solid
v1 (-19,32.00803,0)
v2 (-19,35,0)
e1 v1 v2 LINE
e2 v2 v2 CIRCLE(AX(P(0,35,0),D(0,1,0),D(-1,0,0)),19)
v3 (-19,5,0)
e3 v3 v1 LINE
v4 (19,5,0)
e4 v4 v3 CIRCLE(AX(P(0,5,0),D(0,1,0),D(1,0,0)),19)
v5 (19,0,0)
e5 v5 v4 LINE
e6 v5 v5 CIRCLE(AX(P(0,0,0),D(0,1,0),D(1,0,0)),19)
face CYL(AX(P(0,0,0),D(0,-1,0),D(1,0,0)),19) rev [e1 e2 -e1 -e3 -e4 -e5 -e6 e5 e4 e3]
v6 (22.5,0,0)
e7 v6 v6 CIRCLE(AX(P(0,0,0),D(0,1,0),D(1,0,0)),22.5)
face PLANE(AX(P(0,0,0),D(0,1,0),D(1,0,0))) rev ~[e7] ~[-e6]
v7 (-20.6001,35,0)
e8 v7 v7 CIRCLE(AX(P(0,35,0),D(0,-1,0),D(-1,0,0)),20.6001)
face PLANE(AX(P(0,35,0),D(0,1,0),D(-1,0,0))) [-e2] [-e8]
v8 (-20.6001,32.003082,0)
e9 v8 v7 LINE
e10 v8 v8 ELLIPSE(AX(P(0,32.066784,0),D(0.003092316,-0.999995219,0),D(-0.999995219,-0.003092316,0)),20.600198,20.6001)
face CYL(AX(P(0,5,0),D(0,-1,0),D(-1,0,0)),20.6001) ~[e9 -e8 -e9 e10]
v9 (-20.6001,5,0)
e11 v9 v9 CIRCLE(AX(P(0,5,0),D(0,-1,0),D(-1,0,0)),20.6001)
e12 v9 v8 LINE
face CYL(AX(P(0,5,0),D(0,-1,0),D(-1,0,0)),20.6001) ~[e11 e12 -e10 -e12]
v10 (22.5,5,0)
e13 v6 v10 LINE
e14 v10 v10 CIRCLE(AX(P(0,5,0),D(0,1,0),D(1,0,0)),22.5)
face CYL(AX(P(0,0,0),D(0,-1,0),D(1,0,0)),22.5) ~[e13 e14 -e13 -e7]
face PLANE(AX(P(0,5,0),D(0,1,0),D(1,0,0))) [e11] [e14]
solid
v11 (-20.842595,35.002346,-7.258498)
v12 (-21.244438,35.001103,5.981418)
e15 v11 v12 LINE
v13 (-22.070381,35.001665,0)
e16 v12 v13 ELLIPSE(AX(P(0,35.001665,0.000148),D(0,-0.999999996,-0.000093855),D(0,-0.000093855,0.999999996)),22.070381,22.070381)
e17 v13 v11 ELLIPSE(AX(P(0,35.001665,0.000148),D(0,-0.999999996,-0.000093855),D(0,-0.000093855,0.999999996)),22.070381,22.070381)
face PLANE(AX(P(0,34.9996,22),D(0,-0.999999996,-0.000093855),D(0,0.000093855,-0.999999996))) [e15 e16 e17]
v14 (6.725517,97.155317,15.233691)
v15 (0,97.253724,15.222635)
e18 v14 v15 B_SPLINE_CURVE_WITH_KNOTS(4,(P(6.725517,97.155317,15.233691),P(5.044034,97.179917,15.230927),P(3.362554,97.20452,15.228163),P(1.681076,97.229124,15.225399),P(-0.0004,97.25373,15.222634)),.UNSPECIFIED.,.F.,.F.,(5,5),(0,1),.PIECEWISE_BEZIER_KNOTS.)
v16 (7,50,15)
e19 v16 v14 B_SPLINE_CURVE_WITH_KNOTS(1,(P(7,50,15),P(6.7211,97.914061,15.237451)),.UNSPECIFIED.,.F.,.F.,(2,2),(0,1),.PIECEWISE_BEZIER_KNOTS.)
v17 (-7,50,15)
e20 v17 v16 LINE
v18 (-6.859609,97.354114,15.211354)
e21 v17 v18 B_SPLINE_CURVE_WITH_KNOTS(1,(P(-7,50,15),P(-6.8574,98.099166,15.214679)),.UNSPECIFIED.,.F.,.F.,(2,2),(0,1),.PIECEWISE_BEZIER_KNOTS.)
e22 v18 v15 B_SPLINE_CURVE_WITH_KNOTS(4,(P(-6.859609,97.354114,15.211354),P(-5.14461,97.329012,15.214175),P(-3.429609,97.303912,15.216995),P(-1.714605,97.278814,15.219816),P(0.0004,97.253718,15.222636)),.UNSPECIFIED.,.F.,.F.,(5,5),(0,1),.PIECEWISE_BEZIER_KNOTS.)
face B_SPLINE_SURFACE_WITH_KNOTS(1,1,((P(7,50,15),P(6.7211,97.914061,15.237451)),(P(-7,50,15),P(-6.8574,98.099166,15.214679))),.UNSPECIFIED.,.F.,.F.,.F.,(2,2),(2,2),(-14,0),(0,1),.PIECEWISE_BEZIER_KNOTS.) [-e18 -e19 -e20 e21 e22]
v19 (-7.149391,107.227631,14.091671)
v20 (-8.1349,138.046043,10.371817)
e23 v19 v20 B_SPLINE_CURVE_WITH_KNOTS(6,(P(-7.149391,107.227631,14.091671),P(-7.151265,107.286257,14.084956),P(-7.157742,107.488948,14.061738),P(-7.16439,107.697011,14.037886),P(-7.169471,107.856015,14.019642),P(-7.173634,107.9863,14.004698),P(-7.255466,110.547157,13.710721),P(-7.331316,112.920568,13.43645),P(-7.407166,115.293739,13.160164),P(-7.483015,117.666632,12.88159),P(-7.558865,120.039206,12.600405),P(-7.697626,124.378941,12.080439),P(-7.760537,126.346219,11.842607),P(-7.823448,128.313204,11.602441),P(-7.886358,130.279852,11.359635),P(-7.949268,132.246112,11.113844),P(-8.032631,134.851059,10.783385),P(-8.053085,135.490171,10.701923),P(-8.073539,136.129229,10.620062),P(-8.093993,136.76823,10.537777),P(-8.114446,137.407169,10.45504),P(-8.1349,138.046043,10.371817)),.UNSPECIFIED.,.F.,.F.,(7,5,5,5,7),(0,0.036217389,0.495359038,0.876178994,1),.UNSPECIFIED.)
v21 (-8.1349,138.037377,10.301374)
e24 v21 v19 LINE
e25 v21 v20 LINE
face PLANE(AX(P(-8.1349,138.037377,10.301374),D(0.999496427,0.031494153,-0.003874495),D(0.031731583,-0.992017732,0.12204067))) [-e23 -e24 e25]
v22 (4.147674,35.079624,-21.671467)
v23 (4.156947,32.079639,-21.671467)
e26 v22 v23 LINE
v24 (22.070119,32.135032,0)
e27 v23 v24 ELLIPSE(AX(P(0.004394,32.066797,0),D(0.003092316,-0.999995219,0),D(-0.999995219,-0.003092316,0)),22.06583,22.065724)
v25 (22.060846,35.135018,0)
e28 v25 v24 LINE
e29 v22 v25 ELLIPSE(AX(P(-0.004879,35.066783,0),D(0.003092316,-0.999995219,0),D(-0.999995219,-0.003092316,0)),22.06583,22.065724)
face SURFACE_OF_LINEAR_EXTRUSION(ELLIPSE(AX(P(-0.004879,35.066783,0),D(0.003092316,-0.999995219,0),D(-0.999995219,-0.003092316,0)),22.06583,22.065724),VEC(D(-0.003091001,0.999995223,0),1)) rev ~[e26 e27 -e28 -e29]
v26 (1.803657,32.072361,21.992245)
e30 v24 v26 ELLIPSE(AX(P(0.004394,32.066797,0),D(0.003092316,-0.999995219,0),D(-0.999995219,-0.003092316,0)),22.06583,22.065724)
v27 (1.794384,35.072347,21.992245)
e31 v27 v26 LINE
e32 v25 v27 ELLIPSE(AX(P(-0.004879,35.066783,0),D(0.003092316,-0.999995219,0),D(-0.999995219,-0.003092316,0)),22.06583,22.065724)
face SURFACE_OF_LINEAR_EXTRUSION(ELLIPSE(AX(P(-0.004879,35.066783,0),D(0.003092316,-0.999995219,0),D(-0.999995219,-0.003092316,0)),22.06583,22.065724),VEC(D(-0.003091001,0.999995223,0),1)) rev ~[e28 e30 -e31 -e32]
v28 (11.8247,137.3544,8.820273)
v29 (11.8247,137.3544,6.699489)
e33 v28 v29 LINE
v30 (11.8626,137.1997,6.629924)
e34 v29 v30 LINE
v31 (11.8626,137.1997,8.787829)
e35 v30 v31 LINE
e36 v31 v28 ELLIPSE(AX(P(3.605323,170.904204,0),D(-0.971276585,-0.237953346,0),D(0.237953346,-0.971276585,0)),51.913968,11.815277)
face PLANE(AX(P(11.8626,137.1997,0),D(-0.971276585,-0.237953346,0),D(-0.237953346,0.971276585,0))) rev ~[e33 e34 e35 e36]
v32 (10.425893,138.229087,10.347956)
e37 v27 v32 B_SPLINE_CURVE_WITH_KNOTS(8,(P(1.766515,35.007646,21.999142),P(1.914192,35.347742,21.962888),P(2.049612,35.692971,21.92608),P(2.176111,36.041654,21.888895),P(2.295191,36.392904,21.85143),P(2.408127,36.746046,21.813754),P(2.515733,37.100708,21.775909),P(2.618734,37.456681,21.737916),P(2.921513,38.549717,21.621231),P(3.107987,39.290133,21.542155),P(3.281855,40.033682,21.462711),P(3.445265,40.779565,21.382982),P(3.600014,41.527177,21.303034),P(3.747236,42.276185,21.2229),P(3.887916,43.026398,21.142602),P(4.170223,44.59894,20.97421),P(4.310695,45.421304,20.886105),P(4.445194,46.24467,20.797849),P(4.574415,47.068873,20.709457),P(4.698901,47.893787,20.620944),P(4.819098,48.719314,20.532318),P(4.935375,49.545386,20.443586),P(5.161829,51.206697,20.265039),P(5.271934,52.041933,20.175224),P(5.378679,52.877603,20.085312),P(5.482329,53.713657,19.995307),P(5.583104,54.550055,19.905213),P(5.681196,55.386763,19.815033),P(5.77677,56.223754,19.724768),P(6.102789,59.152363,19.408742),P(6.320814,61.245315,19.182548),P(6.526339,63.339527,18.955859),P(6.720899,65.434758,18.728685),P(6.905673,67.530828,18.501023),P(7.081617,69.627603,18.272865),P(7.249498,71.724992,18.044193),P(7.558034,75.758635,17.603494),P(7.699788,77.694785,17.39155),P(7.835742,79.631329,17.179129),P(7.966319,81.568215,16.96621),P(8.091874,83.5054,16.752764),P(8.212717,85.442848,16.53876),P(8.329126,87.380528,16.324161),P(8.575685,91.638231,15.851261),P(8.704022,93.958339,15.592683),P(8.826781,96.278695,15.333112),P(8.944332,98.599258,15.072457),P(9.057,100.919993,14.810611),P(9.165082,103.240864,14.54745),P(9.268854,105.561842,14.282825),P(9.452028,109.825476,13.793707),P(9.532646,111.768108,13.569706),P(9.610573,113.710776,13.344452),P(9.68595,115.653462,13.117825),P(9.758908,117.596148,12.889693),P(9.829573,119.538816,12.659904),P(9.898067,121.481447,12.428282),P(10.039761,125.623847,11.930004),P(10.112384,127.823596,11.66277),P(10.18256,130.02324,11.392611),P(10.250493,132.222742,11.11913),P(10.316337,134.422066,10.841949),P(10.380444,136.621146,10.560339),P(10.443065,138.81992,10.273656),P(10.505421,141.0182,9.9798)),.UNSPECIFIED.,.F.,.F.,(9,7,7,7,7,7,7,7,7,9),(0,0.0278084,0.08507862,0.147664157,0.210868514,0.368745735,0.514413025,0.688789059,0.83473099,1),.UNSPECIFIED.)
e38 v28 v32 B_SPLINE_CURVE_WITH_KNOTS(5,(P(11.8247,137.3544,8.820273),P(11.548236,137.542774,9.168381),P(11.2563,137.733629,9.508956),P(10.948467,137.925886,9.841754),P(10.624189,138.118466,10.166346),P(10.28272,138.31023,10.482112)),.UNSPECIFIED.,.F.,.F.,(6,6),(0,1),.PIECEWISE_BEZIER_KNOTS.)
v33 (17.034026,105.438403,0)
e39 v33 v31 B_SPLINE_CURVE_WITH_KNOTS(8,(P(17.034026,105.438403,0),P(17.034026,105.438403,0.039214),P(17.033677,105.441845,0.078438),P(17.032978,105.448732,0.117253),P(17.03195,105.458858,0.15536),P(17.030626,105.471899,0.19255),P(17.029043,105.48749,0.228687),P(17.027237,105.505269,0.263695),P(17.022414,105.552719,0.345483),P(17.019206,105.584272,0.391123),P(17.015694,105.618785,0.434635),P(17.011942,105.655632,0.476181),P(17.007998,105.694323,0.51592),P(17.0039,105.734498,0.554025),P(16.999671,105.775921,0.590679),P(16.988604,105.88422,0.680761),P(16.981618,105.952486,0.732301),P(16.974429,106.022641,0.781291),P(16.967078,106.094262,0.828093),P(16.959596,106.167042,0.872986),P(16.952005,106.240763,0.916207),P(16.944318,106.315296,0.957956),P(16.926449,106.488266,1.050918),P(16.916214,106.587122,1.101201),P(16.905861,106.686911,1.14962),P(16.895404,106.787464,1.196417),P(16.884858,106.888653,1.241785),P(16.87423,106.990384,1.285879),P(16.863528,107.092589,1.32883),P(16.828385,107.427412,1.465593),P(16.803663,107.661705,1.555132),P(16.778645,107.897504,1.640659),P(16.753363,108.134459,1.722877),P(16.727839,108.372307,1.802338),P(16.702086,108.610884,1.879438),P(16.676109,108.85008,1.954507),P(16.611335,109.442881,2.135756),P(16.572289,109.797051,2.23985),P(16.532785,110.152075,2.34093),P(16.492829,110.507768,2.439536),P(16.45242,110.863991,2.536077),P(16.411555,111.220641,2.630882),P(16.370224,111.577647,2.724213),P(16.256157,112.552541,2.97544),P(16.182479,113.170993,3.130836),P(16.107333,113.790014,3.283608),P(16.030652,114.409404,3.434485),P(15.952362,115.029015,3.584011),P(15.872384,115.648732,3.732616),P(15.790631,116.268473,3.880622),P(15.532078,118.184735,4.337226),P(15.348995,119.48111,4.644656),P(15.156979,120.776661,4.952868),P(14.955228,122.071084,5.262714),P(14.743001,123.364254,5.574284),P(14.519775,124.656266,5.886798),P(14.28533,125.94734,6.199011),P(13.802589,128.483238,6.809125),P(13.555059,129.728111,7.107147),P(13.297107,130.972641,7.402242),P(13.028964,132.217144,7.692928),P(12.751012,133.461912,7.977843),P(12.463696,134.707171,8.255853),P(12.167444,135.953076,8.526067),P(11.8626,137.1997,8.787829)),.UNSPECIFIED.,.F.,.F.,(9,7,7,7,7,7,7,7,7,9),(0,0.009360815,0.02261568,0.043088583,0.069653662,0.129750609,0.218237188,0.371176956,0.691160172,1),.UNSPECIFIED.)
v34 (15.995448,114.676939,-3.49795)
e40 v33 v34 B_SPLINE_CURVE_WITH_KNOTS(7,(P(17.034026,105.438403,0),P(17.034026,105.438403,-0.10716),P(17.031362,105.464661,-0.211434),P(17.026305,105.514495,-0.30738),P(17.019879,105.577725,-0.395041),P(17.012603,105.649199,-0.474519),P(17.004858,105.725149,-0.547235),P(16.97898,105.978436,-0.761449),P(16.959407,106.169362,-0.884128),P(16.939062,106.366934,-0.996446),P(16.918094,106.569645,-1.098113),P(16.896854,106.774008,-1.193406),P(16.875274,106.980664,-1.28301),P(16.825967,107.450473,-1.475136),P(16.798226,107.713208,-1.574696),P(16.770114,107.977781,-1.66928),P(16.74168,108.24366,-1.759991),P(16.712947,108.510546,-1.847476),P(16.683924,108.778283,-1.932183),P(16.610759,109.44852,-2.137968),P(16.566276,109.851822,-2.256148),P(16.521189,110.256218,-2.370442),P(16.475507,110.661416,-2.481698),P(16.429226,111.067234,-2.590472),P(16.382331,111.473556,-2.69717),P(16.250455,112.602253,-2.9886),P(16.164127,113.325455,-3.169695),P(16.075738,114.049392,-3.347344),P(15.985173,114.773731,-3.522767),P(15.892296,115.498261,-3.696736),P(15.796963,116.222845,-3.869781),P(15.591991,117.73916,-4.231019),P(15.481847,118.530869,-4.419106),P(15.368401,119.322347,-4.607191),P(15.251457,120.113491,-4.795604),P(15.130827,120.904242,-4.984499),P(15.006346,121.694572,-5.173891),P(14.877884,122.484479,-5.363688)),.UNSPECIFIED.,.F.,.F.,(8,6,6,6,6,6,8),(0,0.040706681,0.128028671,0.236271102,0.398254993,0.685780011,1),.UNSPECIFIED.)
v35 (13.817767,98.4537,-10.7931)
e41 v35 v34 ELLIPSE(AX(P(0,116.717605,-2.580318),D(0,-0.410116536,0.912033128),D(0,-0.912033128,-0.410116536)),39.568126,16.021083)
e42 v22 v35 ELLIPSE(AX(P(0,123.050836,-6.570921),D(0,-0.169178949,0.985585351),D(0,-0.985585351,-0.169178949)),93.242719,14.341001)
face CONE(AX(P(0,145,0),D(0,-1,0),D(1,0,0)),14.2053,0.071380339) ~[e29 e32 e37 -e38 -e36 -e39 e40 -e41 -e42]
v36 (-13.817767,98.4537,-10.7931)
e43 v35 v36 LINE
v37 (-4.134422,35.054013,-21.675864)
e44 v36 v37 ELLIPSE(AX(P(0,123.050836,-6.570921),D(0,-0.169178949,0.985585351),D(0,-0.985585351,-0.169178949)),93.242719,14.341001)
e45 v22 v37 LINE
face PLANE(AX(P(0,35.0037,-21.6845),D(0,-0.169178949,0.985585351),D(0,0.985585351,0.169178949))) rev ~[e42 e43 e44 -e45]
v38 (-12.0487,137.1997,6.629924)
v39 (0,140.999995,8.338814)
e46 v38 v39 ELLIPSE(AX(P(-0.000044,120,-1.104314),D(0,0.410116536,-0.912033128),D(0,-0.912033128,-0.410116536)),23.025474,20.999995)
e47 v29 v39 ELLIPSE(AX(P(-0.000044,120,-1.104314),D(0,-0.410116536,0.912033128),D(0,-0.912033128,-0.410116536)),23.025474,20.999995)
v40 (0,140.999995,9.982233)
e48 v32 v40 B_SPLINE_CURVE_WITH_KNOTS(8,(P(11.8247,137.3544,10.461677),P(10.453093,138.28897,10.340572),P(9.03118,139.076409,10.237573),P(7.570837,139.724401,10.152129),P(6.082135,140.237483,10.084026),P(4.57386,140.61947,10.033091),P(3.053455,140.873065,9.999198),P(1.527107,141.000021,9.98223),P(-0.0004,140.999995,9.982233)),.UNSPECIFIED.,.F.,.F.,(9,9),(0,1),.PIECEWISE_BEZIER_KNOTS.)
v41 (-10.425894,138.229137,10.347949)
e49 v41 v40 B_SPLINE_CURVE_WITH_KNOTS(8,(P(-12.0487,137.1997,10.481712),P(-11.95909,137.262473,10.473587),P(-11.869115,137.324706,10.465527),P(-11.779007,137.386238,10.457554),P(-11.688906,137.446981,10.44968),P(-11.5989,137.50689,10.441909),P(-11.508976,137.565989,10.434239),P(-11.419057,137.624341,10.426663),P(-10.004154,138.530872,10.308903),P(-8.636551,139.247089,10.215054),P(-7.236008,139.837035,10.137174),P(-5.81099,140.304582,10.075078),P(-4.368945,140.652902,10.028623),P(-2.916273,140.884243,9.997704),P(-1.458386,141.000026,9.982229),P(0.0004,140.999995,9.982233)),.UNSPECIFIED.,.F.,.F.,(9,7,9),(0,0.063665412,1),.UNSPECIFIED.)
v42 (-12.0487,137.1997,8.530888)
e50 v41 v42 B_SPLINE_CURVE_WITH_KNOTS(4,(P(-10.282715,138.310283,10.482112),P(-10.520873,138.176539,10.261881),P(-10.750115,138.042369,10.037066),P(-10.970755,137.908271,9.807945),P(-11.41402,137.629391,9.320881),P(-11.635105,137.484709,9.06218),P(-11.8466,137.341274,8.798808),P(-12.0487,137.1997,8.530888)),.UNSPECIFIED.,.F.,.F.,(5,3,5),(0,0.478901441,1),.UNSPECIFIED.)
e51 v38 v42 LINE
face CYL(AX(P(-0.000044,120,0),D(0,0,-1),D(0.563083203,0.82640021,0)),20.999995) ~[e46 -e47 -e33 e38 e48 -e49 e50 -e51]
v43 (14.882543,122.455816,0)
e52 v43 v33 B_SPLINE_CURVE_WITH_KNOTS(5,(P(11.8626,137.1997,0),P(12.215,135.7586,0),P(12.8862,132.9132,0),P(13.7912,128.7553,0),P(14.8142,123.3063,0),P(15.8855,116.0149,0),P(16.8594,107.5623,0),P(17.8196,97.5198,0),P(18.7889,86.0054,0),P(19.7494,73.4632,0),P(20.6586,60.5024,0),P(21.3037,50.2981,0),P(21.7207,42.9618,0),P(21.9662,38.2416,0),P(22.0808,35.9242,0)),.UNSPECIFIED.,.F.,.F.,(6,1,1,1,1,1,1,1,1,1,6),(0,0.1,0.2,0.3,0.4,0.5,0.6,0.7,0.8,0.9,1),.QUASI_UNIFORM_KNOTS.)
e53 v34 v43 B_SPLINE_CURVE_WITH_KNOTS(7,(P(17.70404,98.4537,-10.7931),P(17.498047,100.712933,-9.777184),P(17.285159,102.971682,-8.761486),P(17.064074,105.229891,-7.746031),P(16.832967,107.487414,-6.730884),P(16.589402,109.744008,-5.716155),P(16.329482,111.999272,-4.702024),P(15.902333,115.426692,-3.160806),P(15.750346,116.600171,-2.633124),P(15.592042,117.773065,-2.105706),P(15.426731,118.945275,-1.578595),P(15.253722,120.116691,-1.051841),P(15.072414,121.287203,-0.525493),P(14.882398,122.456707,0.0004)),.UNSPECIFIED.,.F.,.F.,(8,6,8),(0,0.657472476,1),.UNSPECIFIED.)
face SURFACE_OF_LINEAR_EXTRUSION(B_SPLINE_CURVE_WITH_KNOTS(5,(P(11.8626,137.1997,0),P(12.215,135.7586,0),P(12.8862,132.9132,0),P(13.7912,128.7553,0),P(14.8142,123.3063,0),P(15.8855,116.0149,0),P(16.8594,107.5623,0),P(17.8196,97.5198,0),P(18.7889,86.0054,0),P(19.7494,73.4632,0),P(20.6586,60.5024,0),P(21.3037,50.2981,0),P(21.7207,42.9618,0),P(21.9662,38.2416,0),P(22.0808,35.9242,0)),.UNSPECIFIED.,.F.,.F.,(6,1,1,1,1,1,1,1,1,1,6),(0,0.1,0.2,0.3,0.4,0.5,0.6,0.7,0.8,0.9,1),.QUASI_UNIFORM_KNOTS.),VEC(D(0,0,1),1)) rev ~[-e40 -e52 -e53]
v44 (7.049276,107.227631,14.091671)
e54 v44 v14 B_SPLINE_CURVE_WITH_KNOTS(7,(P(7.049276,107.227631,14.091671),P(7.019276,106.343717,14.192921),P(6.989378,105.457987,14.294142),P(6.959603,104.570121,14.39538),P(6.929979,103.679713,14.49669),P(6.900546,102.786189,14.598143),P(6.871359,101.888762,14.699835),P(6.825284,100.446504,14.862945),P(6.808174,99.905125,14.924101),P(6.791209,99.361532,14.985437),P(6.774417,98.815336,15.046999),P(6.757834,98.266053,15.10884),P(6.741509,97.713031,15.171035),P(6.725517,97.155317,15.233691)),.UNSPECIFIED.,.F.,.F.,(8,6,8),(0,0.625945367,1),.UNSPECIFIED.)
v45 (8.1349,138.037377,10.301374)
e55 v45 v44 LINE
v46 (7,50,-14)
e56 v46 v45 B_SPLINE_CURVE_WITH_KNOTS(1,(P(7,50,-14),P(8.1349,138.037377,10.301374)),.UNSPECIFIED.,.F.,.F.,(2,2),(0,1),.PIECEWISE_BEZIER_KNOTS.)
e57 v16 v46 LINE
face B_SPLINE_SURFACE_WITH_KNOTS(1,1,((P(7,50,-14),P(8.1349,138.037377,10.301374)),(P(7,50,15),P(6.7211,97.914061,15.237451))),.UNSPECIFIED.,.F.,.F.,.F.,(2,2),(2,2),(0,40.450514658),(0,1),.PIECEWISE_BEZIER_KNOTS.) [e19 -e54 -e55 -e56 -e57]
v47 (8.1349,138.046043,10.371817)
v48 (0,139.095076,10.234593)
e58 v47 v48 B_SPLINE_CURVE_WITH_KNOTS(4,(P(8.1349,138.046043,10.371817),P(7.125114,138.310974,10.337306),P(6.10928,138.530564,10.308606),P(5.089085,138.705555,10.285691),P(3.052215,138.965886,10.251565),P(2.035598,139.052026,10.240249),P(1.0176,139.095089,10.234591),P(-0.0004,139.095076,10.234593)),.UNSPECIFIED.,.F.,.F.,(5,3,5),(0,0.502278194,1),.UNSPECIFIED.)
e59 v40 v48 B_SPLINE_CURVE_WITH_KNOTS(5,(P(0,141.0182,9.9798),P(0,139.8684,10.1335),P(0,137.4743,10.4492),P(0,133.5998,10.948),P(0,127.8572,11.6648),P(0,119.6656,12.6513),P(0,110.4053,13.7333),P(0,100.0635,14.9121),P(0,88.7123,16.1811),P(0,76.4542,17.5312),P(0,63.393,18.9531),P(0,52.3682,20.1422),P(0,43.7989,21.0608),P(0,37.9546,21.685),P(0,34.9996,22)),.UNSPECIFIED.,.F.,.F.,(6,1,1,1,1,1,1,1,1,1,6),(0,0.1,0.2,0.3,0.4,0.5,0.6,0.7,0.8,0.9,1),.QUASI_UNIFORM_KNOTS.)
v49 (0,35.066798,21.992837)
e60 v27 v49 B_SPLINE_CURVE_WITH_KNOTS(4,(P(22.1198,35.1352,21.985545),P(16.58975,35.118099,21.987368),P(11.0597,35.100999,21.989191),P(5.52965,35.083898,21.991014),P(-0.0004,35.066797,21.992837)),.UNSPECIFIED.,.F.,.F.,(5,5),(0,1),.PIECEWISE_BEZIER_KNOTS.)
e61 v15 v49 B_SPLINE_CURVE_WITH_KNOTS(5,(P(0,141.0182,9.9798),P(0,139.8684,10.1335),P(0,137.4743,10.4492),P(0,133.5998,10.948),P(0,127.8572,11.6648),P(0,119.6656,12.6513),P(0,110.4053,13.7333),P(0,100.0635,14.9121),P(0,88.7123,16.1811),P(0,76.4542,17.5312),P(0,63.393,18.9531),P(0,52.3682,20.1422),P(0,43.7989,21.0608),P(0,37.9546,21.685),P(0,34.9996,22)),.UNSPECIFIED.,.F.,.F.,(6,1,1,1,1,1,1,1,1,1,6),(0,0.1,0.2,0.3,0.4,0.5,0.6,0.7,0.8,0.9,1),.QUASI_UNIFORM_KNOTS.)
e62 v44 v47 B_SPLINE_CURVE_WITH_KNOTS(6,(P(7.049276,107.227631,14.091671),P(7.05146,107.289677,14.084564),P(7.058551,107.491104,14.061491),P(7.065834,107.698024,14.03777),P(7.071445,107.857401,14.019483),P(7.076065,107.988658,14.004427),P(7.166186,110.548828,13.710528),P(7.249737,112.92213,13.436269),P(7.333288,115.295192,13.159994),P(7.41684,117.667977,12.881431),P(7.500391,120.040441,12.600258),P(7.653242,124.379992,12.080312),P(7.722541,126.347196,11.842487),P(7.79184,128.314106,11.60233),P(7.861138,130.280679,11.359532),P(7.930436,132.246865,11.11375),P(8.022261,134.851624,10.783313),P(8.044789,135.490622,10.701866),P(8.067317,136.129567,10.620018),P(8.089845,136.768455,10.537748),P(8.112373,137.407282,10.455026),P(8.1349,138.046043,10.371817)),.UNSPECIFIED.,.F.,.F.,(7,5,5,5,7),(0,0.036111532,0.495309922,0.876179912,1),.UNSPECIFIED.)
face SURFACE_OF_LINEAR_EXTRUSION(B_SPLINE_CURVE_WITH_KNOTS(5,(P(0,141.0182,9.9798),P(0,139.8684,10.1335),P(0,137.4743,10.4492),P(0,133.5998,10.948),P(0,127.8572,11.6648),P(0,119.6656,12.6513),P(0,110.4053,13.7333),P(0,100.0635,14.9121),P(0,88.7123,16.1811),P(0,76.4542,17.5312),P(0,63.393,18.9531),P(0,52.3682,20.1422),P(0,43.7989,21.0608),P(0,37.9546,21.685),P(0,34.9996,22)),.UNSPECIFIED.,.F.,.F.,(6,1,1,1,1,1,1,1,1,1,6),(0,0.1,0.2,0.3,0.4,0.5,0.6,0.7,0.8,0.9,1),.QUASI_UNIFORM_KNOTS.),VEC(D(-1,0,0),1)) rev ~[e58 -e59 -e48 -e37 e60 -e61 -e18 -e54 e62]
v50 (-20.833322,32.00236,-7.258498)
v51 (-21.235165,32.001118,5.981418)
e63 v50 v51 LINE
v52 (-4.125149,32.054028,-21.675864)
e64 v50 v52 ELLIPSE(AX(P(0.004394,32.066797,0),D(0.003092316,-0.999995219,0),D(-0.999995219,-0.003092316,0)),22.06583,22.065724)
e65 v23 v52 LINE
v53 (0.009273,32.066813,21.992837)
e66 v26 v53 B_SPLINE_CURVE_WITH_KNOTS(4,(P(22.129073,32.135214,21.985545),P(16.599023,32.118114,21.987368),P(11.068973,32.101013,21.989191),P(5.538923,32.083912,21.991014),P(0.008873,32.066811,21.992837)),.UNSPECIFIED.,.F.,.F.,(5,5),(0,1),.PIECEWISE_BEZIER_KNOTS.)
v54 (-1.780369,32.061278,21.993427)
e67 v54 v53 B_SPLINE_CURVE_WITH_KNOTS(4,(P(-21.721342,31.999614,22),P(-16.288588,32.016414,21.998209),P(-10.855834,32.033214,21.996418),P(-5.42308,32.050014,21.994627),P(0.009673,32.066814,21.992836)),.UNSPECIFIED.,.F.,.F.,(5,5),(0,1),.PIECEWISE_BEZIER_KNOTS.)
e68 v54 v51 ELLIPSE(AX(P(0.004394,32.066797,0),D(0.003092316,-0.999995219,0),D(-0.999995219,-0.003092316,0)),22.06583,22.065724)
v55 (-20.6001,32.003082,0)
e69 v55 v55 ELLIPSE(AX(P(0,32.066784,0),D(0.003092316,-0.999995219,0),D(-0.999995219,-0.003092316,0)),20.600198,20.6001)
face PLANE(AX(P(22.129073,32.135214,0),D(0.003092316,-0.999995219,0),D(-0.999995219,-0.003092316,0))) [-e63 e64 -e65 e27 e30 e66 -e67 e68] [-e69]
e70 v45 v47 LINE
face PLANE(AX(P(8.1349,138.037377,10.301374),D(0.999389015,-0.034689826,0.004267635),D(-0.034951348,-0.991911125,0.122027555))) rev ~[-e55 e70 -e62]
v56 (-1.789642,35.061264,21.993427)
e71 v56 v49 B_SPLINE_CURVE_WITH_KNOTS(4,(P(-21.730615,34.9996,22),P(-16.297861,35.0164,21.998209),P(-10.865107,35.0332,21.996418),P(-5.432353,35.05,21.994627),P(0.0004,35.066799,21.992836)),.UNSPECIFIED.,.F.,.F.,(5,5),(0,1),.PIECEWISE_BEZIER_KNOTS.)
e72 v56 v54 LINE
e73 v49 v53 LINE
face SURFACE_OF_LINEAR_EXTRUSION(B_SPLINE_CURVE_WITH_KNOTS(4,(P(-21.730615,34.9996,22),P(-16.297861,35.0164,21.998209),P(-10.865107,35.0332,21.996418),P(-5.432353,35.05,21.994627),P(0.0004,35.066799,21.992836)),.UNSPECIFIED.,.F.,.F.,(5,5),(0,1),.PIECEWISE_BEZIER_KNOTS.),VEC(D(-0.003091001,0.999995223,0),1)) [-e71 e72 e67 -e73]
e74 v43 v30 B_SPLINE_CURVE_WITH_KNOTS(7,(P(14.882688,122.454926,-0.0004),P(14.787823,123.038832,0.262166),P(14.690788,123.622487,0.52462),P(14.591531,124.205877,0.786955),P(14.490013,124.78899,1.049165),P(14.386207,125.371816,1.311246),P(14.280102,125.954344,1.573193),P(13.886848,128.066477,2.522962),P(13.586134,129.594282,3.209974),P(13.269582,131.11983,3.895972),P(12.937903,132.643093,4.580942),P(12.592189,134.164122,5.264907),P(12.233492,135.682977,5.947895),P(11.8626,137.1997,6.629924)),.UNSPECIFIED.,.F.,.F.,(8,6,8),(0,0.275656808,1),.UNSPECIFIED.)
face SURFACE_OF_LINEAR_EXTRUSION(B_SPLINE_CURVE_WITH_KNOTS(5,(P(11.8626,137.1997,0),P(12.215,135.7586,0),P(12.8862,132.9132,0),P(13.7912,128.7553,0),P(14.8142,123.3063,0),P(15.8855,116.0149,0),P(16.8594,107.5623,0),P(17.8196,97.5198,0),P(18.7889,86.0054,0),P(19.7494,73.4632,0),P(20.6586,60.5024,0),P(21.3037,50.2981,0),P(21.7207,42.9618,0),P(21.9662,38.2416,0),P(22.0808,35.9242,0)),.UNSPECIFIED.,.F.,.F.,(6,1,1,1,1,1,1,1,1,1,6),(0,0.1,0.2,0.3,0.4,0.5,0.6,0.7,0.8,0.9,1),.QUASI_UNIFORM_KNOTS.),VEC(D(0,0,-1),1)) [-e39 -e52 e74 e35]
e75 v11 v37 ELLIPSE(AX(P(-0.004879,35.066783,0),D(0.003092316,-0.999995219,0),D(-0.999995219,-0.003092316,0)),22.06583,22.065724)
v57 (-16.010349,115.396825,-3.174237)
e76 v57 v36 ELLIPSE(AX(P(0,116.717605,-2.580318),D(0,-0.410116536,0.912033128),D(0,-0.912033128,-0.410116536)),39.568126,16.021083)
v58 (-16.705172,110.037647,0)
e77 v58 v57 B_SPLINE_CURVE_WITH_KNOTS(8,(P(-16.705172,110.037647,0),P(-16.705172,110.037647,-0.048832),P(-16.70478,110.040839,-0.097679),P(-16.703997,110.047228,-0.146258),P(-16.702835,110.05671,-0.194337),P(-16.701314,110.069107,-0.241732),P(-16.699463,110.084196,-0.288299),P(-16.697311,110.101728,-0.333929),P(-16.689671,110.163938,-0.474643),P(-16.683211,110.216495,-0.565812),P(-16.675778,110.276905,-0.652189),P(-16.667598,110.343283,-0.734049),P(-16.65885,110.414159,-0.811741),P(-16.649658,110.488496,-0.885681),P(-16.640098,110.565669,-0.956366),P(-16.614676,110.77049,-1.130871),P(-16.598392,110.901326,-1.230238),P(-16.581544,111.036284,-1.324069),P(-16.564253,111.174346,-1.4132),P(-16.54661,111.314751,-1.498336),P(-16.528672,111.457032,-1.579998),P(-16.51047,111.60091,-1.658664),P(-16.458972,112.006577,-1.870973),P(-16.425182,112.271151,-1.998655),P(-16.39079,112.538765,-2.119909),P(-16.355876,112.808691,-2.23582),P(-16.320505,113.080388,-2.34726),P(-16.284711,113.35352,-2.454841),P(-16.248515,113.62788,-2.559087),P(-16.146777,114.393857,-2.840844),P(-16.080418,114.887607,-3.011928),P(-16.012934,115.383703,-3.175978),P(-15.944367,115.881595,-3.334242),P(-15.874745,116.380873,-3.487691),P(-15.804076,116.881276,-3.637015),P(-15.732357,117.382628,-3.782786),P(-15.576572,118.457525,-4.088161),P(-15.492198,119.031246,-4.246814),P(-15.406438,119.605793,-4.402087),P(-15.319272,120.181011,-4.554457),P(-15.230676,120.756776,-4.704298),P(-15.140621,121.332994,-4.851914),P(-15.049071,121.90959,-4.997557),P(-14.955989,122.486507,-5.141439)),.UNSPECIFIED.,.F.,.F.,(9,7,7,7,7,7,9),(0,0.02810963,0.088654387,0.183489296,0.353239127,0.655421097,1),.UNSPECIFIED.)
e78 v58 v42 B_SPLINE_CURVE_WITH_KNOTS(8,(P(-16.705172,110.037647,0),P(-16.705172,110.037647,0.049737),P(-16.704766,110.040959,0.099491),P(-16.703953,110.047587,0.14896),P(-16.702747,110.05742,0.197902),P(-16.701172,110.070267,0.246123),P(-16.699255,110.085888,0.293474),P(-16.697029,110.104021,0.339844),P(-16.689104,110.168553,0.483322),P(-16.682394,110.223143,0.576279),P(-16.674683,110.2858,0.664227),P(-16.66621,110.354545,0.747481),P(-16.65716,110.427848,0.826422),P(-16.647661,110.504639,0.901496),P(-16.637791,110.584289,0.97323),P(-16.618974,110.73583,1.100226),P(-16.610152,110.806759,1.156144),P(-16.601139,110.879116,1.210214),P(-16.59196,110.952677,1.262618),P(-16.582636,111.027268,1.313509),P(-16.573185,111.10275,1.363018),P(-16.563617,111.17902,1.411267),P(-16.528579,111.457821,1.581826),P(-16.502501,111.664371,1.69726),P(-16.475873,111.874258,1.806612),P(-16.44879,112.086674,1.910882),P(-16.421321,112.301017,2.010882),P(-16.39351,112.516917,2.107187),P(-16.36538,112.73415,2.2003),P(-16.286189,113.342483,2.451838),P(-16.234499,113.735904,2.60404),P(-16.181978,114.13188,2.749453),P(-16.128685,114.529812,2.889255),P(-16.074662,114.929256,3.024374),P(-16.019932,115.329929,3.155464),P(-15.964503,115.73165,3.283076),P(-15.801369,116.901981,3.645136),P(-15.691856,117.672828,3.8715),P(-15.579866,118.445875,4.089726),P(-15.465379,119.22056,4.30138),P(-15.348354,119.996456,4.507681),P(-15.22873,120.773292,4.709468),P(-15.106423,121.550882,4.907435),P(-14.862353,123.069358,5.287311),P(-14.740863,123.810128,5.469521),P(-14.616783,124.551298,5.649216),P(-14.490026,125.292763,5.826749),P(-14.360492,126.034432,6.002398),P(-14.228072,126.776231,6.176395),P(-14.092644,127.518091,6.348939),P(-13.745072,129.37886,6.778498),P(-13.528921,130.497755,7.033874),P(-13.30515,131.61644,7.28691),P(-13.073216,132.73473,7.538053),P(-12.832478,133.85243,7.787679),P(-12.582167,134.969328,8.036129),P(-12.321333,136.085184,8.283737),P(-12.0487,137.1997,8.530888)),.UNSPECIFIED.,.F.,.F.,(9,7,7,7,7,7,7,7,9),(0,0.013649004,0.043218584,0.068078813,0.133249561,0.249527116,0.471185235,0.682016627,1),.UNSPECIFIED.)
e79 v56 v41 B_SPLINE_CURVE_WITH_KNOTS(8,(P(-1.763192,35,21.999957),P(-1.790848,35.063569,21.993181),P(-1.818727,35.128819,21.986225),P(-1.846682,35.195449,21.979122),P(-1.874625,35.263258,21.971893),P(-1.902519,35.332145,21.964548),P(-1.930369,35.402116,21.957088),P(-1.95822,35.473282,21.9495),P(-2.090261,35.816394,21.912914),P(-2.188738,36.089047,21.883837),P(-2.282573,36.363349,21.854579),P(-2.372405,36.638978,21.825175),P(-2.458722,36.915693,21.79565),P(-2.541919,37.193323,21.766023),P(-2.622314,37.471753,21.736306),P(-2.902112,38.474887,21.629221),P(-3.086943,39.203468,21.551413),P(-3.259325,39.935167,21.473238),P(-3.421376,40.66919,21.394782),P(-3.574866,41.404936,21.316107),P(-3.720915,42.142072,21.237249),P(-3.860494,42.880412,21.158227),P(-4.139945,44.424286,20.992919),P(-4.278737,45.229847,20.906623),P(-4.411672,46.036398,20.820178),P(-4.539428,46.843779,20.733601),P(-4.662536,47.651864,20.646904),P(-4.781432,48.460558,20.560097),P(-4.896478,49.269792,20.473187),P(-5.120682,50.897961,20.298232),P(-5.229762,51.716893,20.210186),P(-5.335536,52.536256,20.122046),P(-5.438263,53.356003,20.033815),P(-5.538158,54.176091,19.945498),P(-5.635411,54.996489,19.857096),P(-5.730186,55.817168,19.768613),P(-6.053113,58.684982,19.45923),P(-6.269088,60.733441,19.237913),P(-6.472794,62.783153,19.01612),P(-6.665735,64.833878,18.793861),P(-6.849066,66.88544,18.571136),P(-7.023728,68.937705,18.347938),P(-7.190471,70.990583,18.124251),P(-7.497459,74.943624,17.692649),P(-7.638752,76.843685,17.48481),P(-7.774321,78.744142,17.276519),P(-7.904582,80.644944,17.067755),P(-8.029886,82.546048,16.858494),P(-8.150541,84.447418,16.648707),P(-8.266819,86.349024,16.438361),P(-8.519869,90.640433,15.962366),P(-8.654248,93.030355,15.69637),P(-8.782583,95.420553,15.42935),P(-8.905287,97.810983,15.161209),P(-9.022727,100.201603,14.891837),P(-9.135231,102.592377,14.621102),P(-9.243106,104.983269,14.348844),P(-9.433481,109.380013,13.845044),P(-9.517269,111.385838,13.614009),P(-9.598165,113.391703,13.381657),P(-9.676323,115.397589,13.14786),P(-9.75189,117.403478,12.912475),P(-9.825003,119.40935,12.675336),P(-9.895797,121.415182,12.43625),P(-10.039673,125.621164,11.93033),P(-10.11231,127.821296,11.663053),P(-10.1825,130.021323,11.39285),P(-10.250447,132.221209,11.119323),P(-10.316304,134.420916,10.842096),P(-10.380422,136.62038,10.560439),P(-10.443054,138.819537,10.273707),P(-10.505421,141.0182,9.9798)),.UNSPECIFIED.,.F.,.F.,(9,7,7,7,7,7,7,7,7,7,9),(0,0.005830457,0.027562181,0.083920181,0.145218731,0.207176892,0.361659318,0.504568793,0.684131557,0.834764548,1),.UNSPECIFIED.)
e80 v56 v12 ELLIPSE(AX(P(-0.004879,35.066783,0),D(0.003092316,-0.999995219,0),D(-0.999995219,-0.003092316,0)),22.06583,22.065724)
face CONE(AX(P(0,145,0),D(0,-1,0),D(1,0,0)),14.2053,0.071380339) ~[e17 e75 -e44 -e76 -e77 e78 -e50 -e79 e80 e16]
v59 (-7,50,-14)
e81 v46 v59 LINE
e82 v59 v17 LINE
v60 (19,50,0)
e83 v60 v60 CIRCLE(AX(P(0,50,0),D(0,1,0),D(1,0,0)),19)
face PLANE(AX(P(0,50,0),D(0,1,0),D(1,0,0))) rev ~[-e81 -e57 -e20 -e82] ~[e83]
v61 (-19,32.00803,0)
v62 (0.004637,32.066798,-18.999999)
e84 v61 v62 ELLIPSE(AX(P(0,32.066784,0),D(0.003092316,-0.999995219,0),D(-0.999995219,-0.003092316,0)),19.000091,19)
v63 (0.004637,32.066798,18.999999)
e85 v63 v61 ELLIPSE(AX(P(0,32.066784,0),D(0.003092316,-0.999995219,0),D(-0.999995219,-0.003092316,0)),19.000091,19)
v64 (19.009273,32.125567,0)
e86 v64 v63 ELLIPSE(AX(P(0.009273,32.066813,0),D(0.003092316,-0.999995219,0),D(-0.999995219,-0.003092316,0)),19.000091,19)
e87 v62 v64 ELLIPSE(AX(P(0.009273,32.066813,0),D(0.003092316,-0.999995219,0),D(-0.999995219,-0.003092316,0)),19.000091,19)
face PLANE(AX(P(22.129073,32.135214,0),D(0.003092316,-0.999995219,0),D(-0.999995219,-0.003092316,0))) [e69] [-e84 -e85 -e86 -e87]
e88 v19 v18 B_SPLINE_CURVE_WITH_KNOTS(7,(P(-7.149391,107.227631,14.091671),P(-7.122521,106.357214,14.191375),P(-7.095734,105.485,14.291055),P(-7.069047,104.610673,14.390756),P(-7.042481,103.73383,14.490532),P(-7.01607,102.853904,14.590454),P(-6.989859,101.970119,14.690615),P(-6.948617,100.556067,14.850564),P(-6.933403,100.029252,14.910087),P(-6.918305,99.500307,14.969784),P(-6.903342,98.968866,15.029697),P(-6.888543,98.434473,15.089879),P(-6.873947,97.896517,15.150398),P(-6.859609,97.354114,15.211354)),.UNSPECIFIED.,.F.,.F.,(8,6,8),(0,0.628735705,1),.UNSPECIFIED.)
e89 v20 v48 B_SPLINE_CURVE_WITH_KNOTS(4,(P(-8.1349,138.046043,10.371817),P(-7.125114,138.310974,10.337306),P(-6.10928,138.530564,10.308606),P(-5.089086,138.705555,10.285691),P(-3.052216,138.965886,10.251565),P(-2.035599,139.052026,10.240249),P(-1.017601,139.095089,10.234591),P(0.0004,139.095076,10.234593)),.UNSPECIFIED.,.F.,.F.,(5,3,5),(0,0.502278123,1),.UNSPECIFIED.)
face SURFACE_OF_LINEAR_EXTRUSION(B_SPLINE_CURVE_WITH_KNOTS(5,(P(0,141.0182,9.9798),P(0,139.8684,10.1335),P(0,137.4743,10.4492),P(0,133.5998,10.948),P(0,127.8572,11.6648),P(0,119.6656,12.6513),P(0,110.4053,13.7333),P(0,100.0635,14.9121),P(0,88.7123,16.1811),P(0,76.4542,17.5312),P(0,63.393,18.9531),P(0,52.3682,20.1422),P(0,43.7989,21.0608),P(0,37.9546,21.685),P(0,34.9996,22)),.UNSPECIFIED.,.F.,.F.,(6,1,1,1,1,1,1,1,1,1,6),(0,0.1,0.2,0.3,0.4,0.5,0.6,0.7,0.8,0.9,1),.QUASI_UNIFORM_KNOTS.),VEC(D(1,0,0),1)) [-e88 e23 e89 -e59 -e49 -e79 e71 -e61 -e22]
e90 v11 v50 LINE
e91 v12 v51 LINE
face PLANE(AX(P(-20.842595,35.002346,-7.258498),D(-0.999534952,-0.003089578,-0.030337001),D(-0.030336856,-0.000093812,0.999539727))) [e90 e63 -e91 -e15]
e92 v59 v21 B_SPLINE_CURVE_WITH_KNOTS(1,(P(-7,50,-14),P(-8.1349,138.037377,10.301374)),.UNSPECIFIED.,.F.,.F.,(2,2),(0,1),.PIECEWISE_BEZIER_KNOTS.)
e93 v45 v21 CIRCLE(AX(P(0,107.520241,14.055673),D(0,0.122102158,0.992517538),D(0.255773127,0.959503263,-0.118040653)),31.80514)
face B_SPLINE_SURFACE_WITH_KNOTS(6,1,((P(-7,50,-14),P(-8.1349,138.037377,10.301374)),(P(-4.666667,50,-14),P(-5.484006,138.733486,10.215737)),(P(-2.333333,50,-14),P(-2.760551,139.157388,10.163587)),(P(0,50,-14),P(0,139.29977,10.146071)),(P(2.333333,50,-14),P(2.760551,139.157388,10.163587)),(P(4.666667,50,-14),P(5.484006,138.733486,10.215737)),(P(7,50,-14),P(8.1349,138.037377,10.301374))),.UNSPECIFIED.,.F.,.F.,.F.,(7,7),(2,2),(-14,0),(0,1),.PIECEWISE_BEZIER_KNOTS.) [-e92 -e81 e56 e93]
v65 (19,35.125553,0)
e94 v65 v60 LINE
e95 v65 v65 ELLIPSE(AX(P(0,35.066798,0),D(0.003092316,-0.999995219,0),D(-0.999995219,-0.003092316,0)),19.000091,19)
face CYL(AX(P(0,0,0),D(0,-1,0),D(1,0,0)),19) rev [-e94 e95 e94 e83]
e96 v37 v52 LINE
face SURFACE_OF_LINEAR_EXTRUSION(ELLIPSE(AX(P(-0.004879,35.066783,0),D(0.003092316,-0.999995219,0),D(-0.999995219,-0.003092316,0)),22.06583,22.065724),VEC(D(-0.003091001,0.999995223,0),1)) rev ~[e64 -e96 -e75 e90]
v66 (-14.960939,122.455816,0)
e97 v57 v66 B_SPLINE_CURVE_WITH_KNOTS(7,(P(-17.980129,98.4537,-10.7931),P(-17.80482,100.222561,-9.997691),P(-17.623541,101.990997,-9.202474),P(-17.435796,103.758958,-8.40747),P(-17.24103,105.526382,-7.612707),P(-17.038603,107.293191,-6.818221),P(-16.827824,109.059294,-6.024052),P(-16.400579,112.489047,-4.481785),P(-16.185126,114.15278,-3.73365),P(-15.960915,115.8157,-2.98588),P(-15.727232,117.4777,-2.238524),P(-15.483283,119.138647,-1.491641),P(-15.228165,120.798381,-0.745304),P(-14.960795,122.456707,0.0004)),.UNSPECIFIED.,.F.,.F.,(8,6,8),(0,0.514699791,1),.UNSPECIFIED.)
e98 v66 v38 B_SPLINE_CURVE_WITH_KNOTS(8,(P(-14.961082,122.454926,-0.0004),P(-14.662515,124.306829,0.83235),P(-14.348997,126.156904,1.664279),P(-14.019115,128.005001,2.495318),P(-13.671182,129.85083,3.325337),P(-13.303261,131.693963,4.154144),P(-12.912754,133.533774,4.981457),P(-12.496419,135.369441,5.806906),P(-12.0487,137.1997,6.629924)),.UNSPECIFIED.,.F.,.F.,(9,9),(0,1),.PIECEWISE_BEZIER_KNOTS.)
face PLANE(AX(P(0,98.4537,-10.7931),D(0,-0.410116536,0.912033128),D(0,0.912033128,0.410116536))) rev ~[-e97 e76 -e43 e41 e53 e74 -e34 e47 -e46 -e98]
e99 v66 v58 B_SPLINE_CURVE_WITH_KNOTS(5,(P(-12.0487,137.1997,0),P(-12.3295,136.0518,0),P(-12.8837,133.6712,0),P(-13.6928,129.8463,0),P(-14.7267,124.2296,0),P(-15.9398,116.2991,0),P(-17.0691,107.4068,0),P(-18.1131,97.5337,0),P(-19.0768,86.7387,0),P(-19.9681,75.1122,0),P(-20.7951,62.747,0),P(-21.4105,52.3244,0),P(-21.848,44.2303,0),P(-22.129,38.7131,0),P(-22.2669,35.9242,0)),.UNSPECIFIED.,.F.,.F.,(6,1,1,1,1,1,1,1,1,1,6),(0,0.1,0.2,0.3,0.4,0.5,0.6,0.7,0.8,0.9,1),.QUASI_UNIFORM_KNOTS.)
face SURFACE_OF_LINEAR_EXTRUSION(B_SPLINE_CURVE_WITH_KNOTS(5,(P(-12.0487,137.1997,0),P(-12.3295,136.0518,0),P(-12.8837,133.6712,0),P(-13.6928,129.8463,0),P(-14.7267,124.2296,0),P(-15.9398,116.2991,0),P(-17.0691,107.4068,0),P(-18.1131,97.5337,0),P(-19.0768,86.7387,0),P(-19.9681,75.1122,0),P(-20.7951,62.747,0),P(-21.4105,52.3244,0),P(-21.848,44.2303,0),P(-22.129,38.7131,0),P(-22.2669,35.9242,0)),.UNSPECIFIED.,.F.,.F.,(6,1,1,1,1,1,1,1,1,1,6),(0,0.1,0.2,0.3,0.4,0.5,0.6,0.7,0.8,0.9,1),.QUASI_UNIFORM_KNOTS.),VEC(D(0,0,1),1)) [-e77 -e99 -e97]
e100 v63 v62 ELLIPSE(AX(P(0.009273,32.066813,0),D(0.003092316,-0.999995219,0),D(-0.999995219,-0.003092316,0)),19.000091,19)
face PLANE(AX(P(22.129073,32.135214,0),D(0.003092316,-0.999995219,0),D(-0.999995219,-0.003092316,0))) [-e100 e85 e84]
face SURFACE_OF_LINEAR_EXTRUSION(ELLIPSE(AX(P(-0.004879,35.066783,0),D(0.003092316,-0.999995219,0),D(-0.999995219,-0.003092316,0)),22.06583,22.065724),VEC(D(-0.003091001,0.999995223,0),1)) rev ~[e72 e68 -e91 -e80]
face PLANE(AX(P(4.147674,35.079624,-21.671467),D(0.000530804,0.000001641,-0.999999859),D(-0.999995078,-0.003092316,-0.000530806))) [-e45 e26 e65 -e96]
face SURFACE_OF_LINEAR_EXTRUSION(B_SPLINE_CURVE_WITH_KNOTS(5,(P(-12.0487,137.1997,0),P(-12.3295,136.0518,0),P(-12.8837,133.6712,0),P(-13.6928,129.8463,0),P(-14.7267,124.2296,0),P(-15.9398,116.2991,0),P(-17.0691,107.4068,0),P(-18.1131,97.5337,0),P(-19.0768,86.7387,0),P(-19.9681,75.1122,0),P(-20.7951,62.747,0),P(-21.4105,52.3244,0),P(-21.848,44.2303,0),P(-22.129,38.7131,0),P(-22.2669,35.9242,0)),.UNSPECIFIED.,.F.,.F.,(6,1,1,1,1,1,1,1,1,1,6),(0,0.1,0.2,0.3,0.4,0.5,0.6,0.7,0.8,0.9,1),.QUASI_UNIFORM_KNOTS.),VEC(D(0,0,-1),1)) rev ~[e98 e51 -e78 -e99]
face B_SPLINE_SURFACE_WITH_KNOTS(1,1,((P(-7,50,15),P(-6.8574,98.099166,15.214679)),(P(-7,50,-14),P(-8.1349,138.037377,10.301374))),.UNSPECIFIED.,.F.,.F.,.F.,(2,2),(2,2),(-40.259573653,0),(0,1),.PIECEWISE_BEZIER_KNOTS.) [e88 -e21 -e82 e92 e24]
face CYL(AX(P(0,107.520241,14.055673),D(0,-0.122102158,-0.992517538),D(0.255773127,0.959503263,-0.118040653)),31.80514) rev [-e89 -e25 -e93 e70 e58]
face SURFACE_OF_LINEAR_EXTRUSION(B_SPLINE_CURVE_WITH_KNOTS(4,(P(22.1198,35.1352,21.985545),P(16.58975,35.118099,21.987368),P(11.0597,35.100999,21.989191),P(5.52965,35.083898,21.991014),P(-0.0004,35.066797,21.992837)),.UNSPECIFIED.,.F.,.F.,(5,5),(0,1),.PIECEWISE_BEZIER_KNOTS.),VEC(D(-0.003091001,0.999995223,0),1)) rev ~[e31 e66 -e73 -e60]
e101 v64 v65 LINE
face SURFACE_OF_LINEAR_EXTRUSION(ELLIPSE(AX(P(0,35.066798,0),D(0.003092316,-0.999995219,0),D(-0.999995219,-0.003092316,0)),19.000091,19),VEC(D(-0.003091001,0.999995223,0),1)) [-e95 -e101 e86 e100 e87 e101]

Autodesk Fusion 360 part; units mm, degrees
sketch "Sketch1" plane through (0, 0, 0) normal (0, 1, 0) x (1, 0, 0)
  circle A0 centre (0, 0) radius 19
  circle A1 centre (0, 0) radius 22.5
  dimension "d1" = 38
  dimension "d2" = 45
extrude "Extrude1" add sketch "Sketch1" along normal blind 5 makes body 1
sketch "Sketch2" plane through (0, 5, 0) normal (0, 1, 0) x (-1, 0, 0)
  circle A0 centre (0, 0) radius 19
  circle A1 centre (0, 0) radius 22.5
  circle A2 centre (0, 0) radius 18.9833
  line L0 (-22.4994, -0.1674) -> (-20.5994, -0.1674)
  circle A3 centre (0, 0) radius 20.6001
  dimension "d5" = 1.9
extrude "Extrude2" add sketch "Sketch2" along normal blind 30 contours A3 bodies 1
sketch "Sketch3" plane through (0, 35, 0) normal (0, 1, 0) x (-1, 0, 0)
  circle A0 centre (0, 0) radius 19
  circle A1 centre (0, 0) radius 20.6001
  circle A2 centre (0, 0) radius 22.0705
  circle A3 centre (0, 0) radius 21
sketch "Sketch4" plane through (0, 0, 0) normal (1, 0, 0) x (0, 0, -1)
sketch "Sketch5" plane through (0, 0, 0) normal (1, 0, 0) x (0, 0, -1)
ref_plane "WorkPlane1" through (0, 145, 0) normal (0, 1, 0) x (-1, 0, 0)
ref_plane "WorkPlane2" through (0, 95, 0) normal (0, 1, 0) x (-1, 0, 0)
sketch "Sketch6" plane through (0, 0, 0) normal (0, 0, 1) x (1, 0, 0)
sketch "Sketch7" plane through (0, 0, 0) normal (0, 0, 1) x (1, 0, 0)
  spline S0 degree 5 poles (-12.0487, 137.1997) (-12.3295, 136.0518) (-12.8837, 133.6712) (-13.6928, 129.8463) (-14.7267, 124.2296) (-15.9398, 116.2991) (-17.0691, 107.4068) (-18.1131, 97.5337) (-19.0768, 86.7387) (-19.9681, 75.1122) (-20.7951, 62.747) (-21.4105, 52.3244) (-21.848, 44.2303) (-22.129, 38.7131) (-22.2669, 35.9242) knots 0 0 0 0 0 0 0.1 0.2 0.3 0.4 0.5 0.6 0.7 0.8 0.9 1 1 1 1 1 1
  spline S1 degree 5 poles (11.8626, 137.1997) (12.215, 135.7586) (12.8862, 132.9132) (13.7912, 128.7553) (14.8142, 123.3063) (15.8855, 116.0149) (16.8594, 107.5623) (17.8196, 97.5198) (18.7889, 86.0054) (19.7494, 73.4632) (20.6586, 60.5024) (21.3037, 50.2981) (21.7207, 42.9618) (21.9662, 38.2416) (22.0808, 35.9242) knots 0 0 0 0 0 0 0.1 0.2 0.3 0.4 0.5 0.6 0.7 0.8 0.9 1 1 1 1 1 1
  line L0 (-22.2669, 35.9242) -> (-22.3127, 34.9978)
  line L1 (22.0808, 35.9242) -> (22.1198, 35.1352)
  line L2 (22.1198, 35.1352) -> (-22.3127, 34.9978)
  line L3 (11.8626, 137.1997) -> (11.8247, 137.3544)
  arc A0 (11.8247, 137.3544) -> (-12.0487, 137.1997) centre (0, 120) ccw
  point P0 (-16.9902, 107.6576)
  point P1 (16.804, 107.6576)
sketch "Sketch8" plane through (0, 35, 0) normal (0, 1, 0) x (-1, 0, 0)
sketch "Sketch9" plane through (0, 0, 0) normal (1, 0, 0) x (0, 0, -1)
  spline S0 degree 5 poles (-9.9798, 141.0182) (-10.1335, 139.8684) (-10.4492, 137.4743) (-10.948, 133.5998) (-11.6648, 127.8572) (-12.6513, 119.6656) (-13.7333, 110.4053) (-14.9121, 100.0635) (-16.1811, 88.7123) (-17.5312, 76.4542) (-18.9531, 63.393) (-20.1422, 52.3682) (-21.0608, 43.7989) (-21.685, 37.9546) (-22, 34.9996) knots 0 0 0 0 0 0 0.1 0.2 0.3 0.4 0.5 0.6 0.7 0.8 0.9 1 1 1 1 1 1
  line L0 (21.6845, 35.0037) -> (10.7931, 98.4537)
  line L1 (10.7931, 98.4537) -> (-8.347, 141.0182)
  line L2 (-8.347, 141.0182) -> (-9.9798, 141.0182)
  line L3 (-22, 34.9996) -> (21.6845, 35.0037)
  point P0 (-13.5995, 111.5026)
sketch "Sketch10" plane through (0, 95, 0) normal (0, 1, 0) x (1, 0, 0)
extrude "Extrude3" add sketch "Sketch9" along normal mid plane 120 separate body makes body 2
extrude "Extrude4" cut sketch "Sketch7" along normal mid plane 80 keep common part bodies 2
sketch "Sketch11" plane through (0, 145, 0) normal (0, 1, 0) x (1, 0, 0)
  circle A0 centre (0, 0) radius 14.2053
loft "Loft1" cut profiles "Sketch11", "Sketch3" section 1 section 2 contours A2 keep common part bodies 2
extrude "Extrude5" cut sketch "Sketch1" along normal blind 50 contours A0 bodies 2
sketch "Sketch12" plane through (0, 0, 0) normal (1, 0, 0) x (0, 0, -1)
  line L0 (-9.9436, 140.9671) -> (-16.5618, 87.1617)
ref_plane "WorkPlane3" through (0, 114.0644, 13.2527) normal (0, 0.1221, 0.9925) x (0, -0.9925, 0.1221)
sketch "Sketch13" plane through (0, 3.3059, 26.8764) normal (0, 0.1221, 0.9925) x (0, -0.9925, 0.1221)
  line L0 (-135.7472, 8.1349) -> (-95.3214, 6.7211)
  line L1 (-135.7472, -8.1349) -> (-95.5079, -6.8574)
  line L2 (-95.5079, -6.8574) -> (-95.3214, 6.7211)
  arc A0 (-135.7472, 8.1349) -> (-135.7472, -8.1349) centre (-105, 0) ccw
extrude "Extrude6" cut sketch "Sketch13" along normal blind 3 bodies 2
sketch "Sketch14" plane through (0, 50, 0) normal (0, -1, 0) x (1, 0, 0)
  circle A0 centre (0, 0) radius 19
  line L0 (-7, 15) -> (7, 15)
  line L1 (7, 15) -> (7, -14)
  line L2 (7, -14) -> (-7, -14)
  line L3 (-7, -14) -> (-7, 15)
loft "Loft2" cut profiles "Sketch14", "Sketch13" section 1 contours L0 L1 L2 L3 section 2 bodies 2
combine "Combine1" operation add target body 1 tool bodies 2 makes body 3 at (-9.3703, 42.1628, 19.4155)
extrude "Extrude7" add 1 faces at (-0.0284, 35.0667, -20.7823) along direction (0.003091, -0.999995, 0) blind 3 on bodies 3 bodies 1 3
